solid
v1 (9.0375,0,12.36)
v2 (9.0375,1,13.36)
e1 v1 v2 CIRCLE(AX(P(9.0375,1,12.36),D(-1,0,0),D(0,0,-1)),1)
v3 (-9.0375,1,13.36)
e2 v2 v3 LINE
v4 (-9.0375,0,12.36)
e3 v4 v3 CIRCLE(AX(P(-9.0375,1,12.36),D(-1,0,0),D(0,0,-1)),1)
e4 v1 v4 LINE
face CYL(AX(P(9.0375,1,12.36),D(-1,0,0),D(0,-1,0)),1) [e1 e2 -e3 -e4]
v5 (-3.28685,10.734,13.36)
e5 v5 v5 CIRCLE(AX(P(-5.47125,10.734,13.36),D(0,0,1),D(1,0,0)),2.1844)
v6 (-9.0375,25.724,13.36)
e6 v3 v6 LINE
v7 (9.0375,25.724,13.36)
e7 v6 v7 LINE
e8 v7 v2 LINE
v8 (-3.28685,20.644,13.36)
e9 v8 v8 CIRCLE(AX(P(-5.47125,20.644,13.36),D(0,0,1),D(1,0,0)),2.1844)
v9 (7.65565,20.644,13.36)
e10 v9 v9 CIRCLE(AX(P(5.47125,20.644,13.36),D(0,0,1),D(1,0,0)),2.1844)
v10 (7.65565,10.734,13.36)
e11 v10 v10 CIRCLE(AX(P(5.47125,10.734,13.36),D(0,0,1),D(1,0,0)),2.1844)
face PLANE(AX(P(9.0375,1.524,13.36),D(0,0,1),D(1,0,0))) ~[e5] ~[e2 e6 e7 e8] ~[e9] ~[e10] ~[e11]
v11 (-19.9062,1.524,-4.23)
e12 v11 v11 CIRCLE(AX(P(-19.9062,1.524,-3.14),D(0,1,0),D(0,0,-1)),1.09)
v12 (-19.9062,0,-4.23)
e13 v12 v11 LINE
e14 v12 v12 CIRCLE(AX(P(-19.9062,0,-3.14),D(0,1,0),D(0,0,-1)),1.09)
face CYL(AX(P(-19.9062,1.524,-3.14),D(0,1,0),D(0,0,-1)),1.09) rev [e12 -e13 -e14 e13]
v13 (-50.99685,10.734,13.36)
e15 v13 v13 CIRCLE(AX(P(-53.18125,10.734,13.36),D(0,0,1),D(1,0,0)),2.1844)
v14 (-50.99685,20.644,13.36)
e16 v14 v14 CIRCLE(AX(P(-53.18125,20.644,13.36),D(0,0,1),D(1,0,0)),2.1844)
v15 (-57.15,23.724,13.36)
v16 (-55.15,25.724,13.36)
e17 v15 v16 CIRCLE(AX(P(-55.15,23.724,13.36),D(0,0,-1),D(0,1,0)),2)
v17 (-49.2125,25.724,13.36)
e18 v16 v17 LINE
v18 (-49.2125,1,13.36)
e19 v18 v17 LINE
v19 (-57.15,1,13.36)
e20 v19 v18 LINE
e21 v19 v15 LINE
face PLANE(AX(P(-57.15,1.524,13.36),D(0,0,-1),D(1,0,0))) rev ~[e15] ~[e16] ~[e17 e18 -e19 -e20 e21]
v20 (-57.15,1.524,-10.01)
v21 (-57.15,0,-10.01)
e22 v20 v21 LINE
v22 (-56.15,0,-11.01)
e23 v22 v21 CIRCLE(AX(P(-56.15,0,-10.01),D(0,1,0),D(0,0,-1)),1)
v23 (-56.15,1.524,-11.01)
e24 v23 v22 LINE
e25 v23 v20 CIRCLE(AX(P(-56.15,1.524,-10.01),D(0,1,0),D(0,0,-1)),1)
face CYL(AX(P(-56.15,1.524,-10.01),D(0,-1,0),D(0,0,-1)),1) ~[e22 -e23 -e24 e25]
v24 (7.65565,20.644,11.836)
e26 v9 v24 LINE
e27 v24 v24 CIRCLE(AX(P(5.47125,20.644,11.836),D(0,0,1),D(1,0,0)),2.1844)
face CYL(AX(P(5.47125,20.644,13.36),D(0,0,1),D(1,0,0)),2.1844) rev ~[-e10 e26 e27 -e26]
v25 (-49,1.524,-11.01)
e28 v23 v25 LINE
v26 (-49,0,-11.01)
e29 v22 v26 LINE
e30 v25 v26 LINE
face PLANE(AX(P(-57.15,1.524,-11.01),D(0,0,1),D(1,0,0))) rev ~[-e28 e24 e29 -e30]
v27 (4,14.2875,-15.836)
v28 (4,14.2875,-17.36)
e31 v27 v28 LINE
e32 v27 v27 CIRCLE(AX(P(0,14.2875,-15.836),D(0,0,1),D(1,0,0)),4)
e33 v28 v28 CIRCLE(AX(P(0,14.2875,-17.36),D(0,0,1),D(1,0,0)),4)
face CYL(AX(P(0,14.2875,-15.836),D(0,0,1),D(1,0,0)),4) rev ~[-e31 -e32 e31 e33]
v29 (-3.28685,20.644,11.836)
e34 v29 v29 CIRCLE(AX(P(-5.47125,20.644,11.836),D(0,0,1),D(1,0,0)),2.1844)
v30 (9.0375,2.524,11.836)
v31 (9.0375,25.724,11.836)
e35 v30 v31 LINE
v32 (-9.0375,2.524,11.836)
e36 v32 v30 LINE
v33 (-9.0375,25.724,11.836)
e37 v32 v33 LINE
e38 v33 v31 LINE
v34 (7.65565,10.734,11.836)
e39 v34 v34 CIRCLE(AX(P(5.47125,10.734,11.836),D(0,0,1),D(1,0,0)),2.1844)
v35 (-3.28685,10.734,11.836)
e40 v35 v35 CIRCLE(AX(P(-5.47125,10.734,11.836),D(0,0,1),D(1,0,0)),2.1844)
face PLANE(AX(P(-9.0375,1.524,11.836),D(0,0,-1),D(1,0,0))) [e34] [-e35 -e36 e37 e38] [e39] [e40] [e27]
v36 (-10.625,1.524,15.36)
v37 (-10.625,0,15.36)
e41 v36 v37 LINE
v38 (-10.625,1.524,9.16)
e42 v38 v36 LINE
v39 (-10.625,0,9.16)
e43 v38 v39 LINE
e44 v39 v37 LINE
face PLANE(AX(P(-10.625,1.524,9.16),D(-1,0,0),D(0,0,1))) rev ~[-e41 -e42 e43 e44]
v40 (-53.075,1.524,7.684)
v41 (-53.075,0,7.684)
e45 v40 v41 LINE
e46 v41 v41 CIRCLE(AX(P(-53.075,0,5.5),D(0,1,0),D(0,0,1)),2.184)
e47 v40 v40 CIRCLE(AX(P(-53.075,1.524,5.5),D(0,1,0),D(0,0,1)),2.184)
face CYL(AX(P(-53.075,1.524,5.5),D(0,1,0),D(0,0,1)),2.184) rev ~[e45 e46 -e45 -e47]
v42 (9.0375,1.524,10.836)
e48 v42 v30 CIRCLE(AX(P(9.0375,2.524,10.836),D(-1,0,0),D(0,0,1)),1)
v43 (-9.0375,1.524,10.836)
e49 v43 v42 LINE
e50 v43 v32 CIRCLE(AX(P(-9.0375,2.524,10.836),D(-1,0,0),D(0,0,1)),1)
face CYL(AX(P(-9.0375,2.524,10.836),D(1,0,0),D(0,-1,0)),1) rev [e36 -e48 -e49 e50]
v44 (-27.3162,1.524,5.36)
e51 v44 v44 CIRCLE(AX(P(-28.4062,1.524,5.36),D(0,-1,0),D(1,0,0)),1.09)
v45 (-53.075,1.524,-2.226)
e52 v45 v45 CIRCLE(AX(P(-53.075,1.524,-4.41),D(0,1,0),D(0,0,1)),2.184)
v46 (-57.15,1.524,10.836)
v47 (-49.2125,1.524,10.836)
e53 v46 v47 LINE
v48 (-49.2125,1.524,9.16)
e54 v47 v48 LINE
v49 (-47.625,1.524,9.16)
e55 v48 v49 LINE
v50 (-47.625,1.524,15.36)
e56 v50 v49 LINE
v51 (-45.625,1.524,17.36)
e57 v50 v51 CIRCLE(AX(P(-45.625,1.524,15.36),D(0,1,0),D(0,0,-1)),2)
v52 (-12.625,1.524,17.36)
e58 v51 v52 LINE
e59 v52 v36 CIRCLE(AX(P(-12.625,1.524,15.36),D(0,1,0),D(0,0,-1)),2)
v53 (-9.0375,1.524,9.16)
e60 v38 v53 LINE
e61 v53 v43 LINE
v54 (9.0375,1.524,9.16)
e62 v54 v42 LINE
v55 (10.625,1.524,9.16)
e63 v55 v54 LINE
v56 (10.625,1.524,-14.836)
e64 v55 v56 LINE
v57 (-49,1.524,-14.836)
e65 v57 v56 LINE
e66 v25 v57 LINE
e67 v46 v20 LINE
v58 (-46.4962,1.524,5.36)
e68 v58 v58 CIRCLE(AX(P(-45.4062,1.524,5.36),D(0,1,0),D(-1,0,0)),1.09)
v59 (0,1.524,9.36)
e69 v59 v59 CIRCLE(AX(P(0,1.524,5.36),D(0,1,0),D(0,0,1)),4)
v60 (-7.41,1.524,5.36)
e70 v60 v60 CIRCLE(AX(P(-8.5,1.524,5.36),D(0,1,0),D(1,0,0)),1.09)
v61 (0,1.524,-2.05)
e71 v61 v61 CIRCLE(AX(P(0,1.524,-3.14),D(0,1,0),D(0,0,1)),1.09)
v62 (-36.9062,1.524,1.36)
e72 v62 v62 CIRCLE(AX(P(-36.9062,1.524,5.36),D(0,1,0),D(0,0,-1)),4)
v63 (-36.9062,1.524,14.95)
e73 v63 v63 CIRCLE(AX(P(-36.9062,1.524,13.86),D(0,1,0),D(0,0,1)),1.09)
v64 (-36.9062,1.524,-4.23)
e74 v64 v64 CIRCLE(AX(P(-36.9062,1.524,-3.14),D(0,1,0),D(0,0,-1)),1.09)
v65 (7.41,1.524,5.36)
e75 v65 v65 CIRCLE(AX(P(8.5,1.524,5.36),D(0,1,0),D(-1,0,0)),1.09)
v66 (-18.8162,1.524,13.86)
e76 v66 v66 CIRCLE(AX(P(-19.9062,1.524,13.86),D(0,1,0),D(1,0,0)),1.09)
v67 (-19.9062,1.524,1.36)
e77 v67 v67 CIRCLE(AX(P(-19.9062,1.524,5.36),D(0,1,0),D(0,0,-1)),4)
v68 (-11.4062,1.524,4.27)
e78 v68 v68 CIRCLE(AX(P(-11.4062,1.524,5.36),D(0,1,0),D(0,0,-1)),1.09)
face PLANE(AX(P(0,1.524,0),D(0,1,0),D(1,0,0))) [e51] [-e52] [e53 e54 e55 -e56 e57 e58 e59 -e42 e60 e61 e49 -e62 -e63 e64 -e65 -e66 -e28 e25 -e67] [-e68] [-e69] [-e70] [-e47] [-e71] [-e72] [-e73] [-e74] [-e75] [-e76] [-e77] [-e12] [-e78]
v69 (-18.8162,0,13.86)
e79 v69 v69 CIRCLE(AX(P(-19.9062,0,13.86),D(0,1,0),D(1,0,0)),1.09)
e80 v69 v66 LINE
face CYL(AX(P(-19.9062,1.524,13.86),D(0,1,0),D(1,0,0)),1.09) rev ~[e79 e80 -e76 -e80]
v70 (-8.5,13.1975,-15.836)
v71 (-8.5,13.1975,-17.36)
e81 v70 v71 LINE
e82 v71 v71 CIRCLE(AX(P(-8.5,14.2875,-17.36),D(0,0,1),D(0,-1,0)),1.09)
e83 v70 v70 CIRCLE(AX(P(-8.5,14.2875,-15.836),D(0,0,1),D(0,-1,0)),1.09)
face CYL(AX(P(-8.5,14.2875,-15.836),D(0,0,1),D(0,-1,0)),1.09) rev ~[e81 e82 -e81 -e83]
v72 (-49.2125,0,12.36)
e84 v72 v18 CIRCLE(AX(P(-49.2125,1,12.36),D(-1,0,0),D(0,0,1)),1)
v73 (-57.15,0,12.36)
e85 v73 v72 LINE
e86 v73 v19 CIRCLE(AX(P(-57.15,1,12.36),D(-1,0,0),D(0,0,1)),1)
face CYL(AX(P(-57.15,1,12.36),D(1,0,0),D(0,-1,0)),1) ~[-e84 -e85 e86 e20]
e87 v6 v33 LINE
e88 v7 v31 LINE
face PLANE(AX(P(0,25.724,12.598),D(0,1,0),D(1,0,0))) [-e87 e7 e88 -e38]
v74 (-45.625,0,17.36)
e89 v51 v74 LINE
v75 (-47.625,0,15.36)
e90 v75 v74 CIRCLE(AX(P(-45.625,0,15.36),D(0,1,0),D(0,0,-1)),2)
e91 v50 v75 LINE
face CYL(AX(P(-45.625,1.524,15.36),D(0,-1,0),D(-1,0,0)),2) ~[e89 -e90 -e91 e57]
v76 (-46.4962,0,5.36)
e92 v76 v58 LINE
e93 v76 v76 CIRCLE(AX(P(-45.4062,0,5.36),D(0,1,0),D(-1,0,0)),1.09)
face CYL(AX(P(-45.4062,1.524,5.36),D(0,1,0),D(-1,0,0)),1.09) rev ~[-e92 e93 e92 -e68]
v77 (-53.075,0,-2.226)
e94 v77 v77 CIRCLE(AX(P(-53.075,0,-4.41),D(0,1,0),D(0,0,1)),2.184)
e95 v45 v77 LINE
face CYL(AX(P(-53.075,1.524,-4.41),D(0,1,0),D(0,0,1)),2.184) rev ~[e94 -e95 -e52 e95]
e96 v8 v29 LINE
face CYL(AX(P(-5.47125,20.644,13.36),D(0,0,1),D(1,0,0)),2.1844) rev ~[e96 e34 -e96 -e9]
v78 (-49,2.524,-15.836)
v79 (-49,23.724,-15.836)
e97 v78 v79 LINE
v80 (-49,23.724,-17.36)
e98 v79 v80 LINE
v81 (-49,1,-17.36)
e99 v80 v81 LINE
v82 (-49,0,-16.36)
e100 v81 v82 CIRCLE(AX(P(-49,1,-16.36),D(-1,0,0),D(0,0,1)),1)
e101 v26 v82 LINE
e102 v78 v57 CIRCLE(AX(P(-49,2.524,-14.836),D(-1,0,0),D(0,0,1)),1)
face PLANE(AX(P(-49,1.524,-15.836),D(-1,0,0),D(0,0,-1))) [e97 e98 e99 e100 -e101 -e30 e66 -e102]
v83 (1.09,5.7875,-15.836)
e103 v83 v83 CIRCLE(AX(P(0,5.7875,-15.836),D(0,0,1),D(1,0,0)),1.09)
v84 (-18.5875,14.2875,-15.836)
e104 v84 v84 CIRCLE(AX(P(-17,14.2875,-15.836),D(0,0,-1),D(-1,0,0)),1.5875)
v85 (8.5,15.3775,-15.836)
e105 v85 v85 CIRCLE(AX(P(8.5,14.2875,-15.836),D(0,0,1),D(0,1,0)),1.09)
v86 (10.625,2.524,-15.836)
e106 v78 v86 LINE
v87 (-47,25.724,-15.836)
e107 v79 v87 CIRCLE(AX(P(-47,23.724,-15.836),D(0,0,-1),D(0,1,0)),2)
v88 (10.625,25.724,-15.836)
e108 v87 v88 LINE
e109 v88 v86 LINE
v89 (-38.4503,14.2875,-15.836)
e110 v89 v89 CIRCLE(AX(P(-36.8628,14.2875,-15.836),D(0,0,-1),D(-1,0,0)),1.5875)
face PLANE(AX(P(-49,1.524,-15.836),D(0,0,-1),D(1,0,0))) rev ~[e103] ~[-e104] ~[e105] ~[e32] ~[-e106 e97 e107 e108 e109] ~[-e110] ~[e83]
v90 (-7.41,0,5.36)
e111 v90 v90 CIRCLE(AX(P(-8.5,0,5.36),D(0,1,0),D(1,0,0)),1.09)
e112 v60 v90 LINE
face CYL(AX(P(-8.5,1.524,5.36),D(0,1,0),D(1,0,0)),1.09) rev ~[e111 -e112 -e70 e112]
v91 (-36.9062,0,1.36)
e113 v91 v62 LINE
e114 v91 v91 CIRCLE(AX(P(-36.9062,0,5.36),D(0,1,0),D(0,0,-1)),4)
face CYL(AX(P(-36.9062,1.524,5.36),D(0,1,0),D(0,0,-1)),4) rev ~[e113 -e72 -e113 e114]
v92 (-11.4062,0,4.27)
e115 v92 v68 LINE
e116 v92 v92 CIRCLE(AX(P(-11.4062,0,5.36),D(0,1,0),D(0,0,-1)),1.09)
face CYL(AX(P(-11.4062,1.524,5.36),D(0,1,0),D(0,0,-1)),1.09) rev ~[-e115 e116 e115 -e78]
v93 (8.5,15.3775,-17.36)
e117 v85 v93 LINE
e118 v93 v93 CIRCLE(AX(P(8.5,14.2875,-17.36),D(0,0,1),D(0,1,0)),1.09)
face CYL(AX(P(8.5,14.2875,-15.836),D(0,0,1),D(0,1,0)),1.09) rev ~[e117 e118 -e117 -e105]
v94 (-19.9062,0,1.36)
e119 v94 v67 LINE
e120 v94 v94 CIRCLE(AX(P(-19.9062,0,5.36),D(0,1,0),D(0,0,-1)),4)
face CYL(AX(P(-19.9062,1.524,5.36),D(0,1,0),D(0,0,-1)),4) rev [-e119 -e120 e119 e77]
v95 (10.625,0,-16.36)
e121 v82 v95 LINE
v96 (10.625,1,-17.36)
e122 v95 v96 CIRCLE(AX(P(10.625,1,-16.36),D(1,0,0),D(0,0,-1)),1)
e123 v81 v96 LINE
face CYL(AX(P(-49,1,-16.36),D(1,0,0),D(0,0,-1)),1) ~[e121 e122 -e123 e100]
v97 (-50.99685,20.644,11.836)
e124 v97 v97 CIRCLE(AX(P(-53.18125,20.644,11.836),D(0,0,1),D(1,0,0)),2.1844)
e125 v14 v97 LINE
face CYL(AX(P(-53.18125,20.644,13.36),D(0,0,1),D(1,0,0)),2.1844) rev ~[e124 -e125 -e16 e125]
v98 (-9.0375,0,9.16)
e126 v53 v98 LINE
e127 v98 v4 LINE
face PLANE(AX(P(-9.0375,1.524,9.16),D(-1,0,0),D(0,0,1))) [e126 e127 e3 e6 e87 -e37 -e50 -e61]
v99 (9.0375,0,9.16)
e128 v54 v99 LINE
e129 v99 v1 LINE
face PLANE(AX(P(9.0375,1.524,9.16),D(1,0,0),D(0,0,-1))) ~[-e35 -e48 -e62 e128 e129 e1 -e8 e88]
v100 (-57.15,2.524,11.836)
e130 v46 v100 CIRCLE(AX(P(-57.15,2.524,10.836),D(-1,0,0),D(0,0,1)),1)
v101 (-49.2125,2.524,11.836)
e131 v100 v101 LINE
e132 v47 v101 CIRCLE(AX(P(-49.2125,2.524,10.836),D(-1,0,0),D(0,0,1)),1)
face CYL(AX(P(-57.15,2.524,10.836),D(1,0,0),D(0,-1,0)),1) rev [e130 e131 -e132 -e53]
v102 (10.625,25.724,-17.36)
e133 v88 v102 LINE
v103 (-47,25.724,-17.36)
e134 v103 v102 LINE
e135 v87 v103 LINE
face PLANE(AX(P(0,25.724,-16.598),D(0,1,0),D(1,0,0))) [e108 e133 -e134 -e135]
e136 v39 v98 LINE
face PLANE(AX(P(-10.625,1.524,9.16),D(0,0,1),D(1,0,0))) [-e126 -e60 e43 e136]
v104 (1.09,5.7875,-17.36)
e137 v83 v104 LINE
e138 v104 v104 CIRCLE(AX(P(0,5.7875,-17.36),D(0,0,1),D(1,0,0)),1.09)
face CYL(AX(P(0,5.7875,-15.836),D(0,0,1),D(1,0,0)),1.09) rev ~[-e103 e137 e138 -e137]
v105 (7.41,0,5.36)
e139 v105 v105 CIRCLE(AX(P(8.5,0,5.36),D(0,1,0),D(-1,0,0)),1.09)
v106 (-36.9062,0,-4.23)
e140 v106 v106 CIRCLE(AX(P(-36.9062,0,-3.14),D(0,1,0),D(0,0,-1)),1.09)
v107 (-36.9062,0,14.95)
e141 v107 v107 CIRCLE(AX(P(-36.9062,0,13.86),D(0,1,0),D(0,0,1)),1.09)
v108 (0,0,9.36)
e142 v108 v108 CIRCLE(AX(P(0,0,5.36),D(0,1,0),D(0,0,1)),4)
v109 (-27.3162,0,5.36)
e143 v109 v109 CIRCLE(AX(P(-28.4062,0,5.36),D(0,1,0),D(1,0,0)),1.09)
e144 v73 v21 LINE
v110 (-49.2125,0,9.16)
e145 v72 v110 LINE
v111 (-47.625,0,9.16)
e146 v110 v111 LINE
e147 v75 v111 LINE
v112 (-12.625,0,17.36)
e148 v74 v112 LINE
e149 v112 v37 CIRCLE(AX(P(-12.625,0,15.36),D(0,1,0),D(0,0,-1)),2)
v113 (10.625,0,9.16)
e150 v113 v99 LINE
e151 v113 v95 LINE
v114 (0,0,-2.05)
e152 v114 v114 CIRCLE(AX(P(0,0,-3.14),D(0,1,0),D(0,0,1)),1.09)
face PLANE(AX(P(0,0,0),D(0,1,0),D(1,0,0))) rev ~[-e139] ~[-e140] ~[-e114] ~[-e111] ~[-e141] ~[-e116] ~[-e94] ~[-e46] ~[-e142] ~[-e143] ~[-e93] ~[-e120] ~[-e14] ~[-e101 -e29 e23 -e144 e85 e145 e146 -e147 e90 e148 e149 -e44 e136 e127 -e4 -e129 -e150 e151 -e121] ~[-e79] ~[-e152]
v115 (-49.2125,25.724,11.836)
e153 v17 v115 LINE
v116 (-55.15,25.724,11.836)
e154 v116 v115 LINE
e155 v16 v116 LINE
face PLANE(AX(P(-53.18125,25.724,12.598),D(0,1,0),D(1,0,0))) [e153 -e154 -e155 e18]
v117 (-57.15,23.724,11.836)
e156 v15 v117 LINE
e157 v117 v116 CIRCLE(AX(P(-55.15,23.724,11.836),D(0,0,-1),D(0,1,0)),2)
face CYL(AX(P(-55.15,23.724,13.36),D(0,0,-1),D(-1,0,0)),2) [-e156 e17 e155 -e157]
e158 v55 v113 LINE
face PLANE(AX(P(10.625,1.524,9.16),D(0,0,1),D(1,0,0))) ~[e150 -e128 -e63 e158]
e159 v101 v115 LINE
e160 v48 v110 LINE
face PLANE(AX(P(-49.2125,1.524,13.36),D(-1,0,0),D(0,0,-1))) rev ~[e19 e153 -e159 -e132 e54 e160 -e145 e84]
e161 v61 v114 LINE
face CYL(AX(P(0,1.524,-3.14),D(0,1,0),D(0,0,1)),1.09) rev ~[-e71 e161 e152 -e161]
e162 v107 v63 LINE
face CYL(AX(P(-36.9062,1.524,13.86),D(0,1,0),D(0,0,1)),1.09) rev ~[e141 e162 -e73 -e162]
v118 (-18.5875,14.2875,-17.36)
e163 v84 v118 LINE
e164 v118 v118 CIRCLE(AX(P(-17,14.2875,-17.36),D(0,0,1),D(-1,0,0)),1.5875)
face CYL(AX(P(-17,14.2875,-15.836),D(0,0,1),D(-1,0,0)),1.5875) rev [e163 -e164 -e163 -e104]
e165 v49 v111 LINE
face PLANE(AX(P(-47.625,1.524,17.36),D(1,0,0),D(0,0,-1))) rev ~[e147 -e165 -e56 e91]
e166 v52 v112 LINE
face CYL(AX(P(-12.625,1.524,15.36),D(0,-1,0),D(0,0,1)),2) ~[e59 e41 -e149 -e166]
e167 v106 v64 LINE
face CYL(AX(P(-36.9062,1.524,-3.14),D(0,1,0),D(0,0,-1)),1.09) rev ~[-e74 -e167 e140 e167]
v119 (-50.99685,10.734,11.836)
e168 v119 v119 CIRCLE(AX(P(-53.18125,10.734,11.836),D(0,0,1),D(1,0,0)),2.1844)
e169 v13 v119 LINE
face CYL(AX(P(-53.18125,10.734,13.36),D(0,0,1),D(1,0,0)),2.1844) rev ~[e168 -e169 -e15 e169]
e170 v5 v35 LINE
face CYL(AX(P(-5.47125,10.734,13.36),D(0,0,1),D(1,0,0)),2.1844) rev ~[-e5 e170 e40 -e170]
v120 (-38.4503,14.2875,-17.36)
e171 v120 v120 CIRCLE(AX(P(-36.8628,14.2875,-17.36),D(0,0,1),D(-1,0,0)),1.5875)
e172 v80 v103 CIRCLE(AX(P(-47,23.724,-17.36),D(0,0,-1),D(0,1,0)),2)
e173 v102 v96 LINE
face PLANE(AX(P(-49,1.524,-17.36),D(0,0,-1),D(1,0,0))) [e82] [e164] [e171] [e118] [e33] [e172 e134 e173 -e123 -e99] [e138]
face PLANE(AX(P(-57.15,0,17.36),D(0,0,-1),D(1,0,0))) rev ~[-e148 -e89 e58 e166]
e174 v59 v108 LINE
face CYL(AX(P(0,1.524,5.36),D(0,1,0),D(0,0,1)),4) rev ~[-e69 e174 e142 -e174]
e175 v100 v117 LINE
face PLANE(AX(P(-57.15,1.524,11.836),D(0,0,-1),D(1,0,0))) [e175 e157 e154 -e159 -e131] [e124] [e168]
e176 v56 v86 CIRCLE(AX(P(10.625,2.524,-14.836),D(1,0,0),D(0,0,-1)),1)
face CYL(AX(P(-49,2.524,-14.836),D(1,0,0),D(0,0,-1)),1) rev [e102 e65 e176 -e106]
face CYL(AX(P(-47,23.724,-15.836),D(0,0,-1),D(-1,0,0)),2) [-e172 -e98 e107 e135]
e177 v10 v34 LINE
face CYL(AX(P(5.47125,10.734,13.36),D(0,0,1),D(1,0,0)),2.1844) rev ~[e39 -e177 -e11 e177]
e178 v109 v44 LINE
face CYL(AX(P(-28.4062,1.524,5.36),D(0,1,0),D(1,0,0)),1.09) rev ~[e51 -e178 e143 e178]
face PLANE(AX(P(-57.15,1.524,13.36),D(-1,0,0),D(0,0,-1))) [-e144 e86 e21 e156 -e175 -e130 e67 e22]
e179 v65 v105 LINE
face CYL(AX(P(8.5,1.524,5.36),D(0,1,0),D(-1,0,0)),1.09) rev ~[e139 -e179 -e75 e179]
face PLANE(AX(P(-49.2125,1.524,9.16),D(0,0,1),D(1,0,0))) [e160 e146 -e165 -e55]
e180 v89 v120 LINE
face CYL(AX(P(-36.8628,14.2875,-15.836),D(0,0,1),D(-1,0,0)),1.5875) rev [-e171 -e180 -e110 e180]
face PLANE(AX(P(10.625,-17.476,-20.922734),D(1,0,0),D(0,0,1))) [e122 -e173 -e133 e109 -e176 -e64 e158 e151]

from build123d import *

# Parameters (mm, degrees)
SKETCH1_W                = 114.3
SKETCH1_H                = 34.72
BOSS_EXTRUDE1_DEPTH      = 1.524
SKETCH2_R                = 2.184
SKETCH2_W                = 8.15
SKETCH2_H                = 6.35
CUT_EXTRUDE1_DEPTH       = 1.524
SKETCH3_R                = 4
CUT_EXTRUDE2_DEPTH       = 50
SKETCH4_R                = 1.09
CUT_EXTRUDE3_DEPTH       = 50
CIRPATTERN1_COUNT        = 4
MIRROR2_COPY_1_SKETCH_R  = 1.09
MIRROR2_COPY_1_DEPTH     = 50
MIRROR2_COPY_2_SKETCH_R  = 1.09
MIRROR2_COPY_2_DEPTH     = 50
MIRROR2_COPY_3_SKETCH_R  = 1.09
MIRROR2_COPY_3_DEPTH     = 50
SKETCH7_R                = 4
CUT_EXTRUDE4_DEPTH       = 100
SKETCH8_R                = 1.09
CUT_EXTRUDE5_DEPTH       = 100
CIRPATTERN2_COUNT        = 4
SKETCH9_W                = 7.9375
SKETCH9_H                = 1.524
BOSS_EXTRUDE2_DEPTH      = 24.2
SKETCH10_W               = 98
SKETCH10_H               = 1.524
SKETCH10_W_2             = 18.075
BOSS_EXTRUDE3_DEPTH      = 24.2
SKETCH11_R               = 2.1844
CUT_EXTRUDE6_DEPTH       = 24.2
SKETCH12_R               = 2.1844
CUT_EXTRUDE8_DEPTH       = 24.2
FILLET1_R                = 1
SKETCH13_R               = 1.5875
CUT_EXTRUDE9_DEPTH       = 24.2
FILLET2_R                = 2
SKETCH14_R               = 4
CUT_EXTRUDE10_DEPTH      = 24.2
SKETCH15_R               = 1.09
CUT_EXTRUDE11_DEPTH      = 24.2
CIRPATTERN3_COUNT        = 4
CUT_EXTRUDE13_DEPTH      = 30
CUT_EXTRUDE13_DEPTH_BACK = 19
SKETCH18_W               = 48.234659097
SKETCH18_H               = 11.142394616
SKETCH18_H_2             = 30.082733934


with BuildPart() as part:
    # Sketch1 → Boss-Extrude1 (new body)
    with BuildSketch(Plane(origin=(0, 0, 0), x_dir=(1, 0, 0), z_dir=(0, 1, 0))):
        Rectangle(SKETCH1_W, SKETCH1_H)
    extrude(amount=BOSS_EXTRUDE1_DEPTH)

    # Sketch2 → Cut-Extrude1 (cut)
    with BuildSketch(Plane(origin=(0, 1.524, 0), x_dir=(1, 0, 0), z_dir=(0, 1, 0))):
        with Locations(Location((-53.075, 4.41, 0), (0, 0, 270))):
            Circle(SKETCH2_R)
        with Locations(Location((-53.075, -5.5, 0), (0, 0, 270))):
            Circle(SKETCH2_R)
        with Locations((-53.075, 14.185)):
            Rectangle(SKETCH2_W, SKETCH2_H)
        Polygon((-57.15, -13.36), (-49.2125, -13.36), (-49.2125, -9.16), (-47.625, -9.16), (-47.625, -13.36), (-47.625, -17.36), (-57.15, -17.36), align=None)
        Polygon((-10.625, -13.36), (-10.625, -9.16), (-9.0375, -9.16), (-9.0375, -13.36), (0, -13.36), (0, -17.36), (-10.625, -17.36), align=None)
    cut_extrude1 = extrude(amount=-CUT_EXTRUDE1_DEPTH, mode=Mode.SUBTRACT)

    # Mirror1: Cut-Extrude1 across plane
    add(cut_extrude1.mirror(Plane(origin=(0, 0, 0), x_dir=(0, 0, 1), z_dir=(1, 0, 0))), mode=Mode.SUBTRACT)

    # Sketch3 → Cut-Extrude2 (cut, symmetric)
    with BuildSketch(Plane(origin=(0, 1.524, 0), x_dir=(1, 0, 0), z_dir=(0, 1, 0))):
        with Locations(Location((-36.9062, -5.36, 0), (0, 0, 90))):
            Circle(SKETCH3_R)
    cut_extrude2 = extrude(amount=CUT_EXTRUDE2_DEPTH, both=True, mode=Mode.SUBTRACT)

    # Sketch4 → Cut-Extrude3 (cut, symmetric)
    with BuildSketch(Plane(origin=(0, 1.524, 0), x_dir=(1, 0, 0), z_dir=(0, 1, 0))):
        with Locations(Location((-36.9062, 3.14, 0), (0, 0, 90))):
            Circle(SKETCH4_R)
    cut_extrude3 = extrude(amount=CUT_EXTRUDE3_DEPTH, both=True, mode=Mode.SUBTRACT)

    # CirPattern1: Cut-Extrude3 ×4 about axis
    cirpattern1_axis = Axis((-36.9062, 0, 5.36), (0, 1, 0))
    for i in range(1, CIRPATTERN1_COUNT):
        add(cut_extrude3.rotate(cirpattern1_axis, i * 360 / CIRPATTERN1_COUNT), mode=Mode.SUBTRACT)

    # Mirror2: Cut-Extrude2, Cut-Extrude3 across plane
    add(cut_extrude2.mirror(Plane.ZY.offset(28.4062)), mode=Mode.SUBTRACT)
    add(cut_extrude3.mirror(Plane.ZY.offset(28.4062)), mode=Mode.SUBTRACT)

    # Mirror2 copy 1 sketch → Mirror2 copy 1 (cut, symmetric)
    with BuildSketch(Plane(origin=(-14.5462, 1.524, -31.5462), x_dir=(0, 0, -1), z_dir=(0, 1, 0))):
        with Locations((-36.9062, -3.14)):
            Circle(MIRROR2_COPY_1_SKETCH_R)
    extrude(amount=MIRROR2_COPY_1_DEPTH, both=True, mode=Mode.SUBTRACT)

    # Mirror2 copy 2 sketch → Mirror2 copy 2 (cut, symmetric)
    with BuildSketch(Plane(origin=(17, 1.524, 10.72), x_dir=(1, 0, 0), z_dir=(0, 1, 0))):
        with Locations((-36.9062, -3.14)):
            Circle(MIRROR2_COPY_2_SKETCH_R)
    extrude(amount=MIRROR2_COPY_2_DEPTH, both=True, mode=Mode.SUBTRACT)

    # Mirror2 copy 3 sketch → Mirror2 copy 3 (cut, symmetric)
    with BuildSketch(Plane(origin=(-25.2662, 1.524, 42.2662), x_dir=(0, 0, 1), z_dir=(0, 1, 0))):
        with Locations((-36.9062, -3.14)):
            Circle(MIRROR2_COPY_3_SKETCH_R)
    extrude(amount=MIRROR2_COPY_3_DEPTH, both=True, mode=Mode.SUBTRACT)

    # Sketch7 → Cut-Extrude4 (cut)
    with BuildSketch(Plane(origin=(0, 1.524, 0), x_dir=(1, 0, 0), z_dir=(0, 1, 0))):
        with Locations(Location((0, -5.36, 0), (0, 0, 270))):
            Circle(SKETCH7_R)
    extrude(amount=-CUT_EXTRUDE4_DEPTH, mode=Mode.SUBTRACT)

    # Sketch8 → Cut-Extrude5 (cut)
    with BuildSketch(Plane(origin=(0, 1.524, 0), x_dir=(1, 0, 0), z_dir=(0, 1, 0))):
        with Locations(Location((0, 3.14, 0), (0, 0, 270))):
            Circle(SKETCH8_R)
    cut_extrude5 = extrude(amount=-CUT_EXTRUDE5_DEPTH, mode=Mode.SUBTRACT)

    # CirPattern2: Cut-Extrude5 ×4 about axis, 1 skipped
    cirpattern2_axis = Axis((0, 0, 5.36), (0, 1, 0))
    add([cut_extrude5.rotate(cirpattern2_axis, i * 360 / CIRPATTERN2_COUNT) for i in range(1, CIRPATTERN2_COUNT) if i not in (2,)], mode=Mode.SUBTRACT)

    # Sketch9 → Boss-Extrude2 (add)
    with BuildSketch(Plane(origin=(0, 1.524, 0), x_dir=(1, 0, 0), z_dir=(0, 1, 0))):
        with Locations((-53.18125, -12.598)):
            Rectangle(SKETCH9_W, SKETCH9_H)
    boss_extrude2 = extrude(amount=BOSS_EXTRUDE2_DEPTH)

    # Mirror4: Boss-Extrude2 across plane
    add(boss_extrude2.mirror(Plane(origin=(0, 0, 0), x_dir=(0, 0, 1), z_dir=(1, 0, 0))))

    # Sketch10 → Boss-Extrude3 (add)
    with BuildSketch(Plane(origin=(0, 1.524, 0), x_dir=(1, 0, 0), z_dir=(0, 1, 0))):
        with Locations((0, 16.598)):
            Rectangle(SKETCH10_W, SKETCH10_H)
        with Locations((0, -12.598)):
            Rectangle(SKETCH10_W_2, SKETCH10_H)
    extrude(amount=BOSS_EXTRUDE3_DEPTH)

    # Sketch11 → Cut-Extrude6 (cut)
    with BuildSketch(Plane.XY.offset(13.36)):
        with Locations((-53.18125, 20.644)):
            Circle(SKETCH11_R)
        with Locations((-53.18125, 10.734)):
            Circle(SKETCH11_R)
    cut_extrude6 = extrude(amount=-CUT_EXTRUDE6_DEPTH, mode=Mode.SUBTRACT)

    # Mirror5: Cut-Extrude6 across plane
    add(cut_extrude6.mirror(Plane(origin=(0, 0, 0), x_dir=(0, 0, 1), z_dir=(1, 0, 0))), mode=Mode.SUBTRACT)

    # Sketch12 → Cut-Extrude8 (cut)
    with BuildSketch(Plane.XY.offset(13.36)):
        with Locations((-5.47125, 20.644)):
            Circle(SKETCH12_R)
        with Locations((-5.47125, 10.734)):
            Circle(SKETCH12_R)
        with Locations((5.47125, 10.734)):
            Circle(SKETCH12_R)
        with Locations((5.47125, 20.644)):
            Circle(SKETCH12_R)
    extrude(amount=-CUT_EXTRUDE8_DEPTH, mode=Mode.SUBTRACT)

    # Fillet1
    fillet1_edges = [part.edges().sort_by_distance(p)[0] for p in [
        (53.18125, 0, 13.36),
        (-53.18125, 1.524, 11.836),
        (53.18125, 1.524, 11.836),
        (0, 1.524, -15.836),
        (0, 1.524, 11.836),
        (-57.15, 0.762, -11.01),
        (-53.18125, 0, 13.36),
        (0, 0, 13.36),
        (0, 0, -17.36),
        (57.15, 0.762, -11.01),
    ]]
    fillet(fillet1_edges, radius=FILLET1_R)

    # Sketch13 → Cut-Extrude9 (cut)
    with BuildSketch(Plane.XY.offset(-15.836)):
        with Locations((36.8628, 14.2875)):
            Circle(SKETCH13_R)
        with Locations((17, 14.2875)):
            Circle(SKETCH13_R)
    cut_extrude9 = extrude(amount=-CUT_EXTRUDE9_DEPTH, mode=Mode.SUBTRACT)

    # Mirror6: Cut-Extrude9 across plane
    add(cut_extrude9.mirror(Plane(origin=(0, 0, 0), x_dir=(0, 0, 1), z_dir=(1, 0, 0))), mode=Mode.SUBTRACT)

    # Fillet2
    fillet2_edges = [part.edges().sort_by_distance(p)[0] for p in [
        (47.625, 0.762, 17.36),
        (10.625, 0.762, 17.36),
        (-57.15, 25.724, 12.598),
        (57.15, 25.724, 12.598),
        (-49, 25.724, -16.598),
        (49, 25.724, -16.598),
        (-47.625, 0.762, 17.36),
        (-10.625, 0.762, 17.36),
    ]]
    fillet(fillet2_edges, radius=FILLET2_R)

    # Sketch14 → Cut-Extrude10 (cut)
    with BuildSketch(Plane.XY.offset(-15.836)):
        with Locations((0, 14.2875)):
            Circle(SKETCH14_R)
    extrude(amount=-CUT_EXTRUDE10_DEPTH, mode=Mode.SUBTRACT)

    # Sketch15 → Cut-Extrude11 (cut)
    with BuildSketch(Plane.XY.offset(-15.836)):
        with Locations((0, 5.7875)):
            Circle(SKETCH15_R)
    cut_extrude11 = extrude(amount=-CUT_EXTRUDE11_DEPTH, mode=Mode.SUBTRACT)

    # CirPattern3: Cut-Extrude11 ×4 about axis, 1 skipped
    cirpattern3_axis = Axis((0, 14.2875, 0), (0, 0, 1))
    add([cut_extrude11.rotate(cirpattern3_axis, i * 360 / CIRPATTERN3_COUNT) for i in range(1, CIRPATTERN3_COUNT) if i not in (2,)], mode=Mode.SUBTRACT)

    # Sketch18 → Cut-Extrude13 (cut, two sides: drawn at the far end of the back side and taken through both)
    with BuildSketch(Plane(origin=(0, 1.524, 0), x_dir=(1, 0, 0), z_dir=(0, 1, 0)).offset(-CUT_EXTRUDE13_DEPTH_BACK)):
        with Locations((34.742329549, -14.731197308)):
            Rectangle(SKETCH18_W, SKETCH18_H)
        with Locations((34.742329549, 5.881366967)):
            Rectangle(SKETCH18_W, SKETCH18_H_2)
    extrude(amount=CUT_EXTRUDE13_DEPTH + CUT_EXTRUDE13_DEPTH_BACK, mode=Mode.SUBTRACT)


solid = part.part
